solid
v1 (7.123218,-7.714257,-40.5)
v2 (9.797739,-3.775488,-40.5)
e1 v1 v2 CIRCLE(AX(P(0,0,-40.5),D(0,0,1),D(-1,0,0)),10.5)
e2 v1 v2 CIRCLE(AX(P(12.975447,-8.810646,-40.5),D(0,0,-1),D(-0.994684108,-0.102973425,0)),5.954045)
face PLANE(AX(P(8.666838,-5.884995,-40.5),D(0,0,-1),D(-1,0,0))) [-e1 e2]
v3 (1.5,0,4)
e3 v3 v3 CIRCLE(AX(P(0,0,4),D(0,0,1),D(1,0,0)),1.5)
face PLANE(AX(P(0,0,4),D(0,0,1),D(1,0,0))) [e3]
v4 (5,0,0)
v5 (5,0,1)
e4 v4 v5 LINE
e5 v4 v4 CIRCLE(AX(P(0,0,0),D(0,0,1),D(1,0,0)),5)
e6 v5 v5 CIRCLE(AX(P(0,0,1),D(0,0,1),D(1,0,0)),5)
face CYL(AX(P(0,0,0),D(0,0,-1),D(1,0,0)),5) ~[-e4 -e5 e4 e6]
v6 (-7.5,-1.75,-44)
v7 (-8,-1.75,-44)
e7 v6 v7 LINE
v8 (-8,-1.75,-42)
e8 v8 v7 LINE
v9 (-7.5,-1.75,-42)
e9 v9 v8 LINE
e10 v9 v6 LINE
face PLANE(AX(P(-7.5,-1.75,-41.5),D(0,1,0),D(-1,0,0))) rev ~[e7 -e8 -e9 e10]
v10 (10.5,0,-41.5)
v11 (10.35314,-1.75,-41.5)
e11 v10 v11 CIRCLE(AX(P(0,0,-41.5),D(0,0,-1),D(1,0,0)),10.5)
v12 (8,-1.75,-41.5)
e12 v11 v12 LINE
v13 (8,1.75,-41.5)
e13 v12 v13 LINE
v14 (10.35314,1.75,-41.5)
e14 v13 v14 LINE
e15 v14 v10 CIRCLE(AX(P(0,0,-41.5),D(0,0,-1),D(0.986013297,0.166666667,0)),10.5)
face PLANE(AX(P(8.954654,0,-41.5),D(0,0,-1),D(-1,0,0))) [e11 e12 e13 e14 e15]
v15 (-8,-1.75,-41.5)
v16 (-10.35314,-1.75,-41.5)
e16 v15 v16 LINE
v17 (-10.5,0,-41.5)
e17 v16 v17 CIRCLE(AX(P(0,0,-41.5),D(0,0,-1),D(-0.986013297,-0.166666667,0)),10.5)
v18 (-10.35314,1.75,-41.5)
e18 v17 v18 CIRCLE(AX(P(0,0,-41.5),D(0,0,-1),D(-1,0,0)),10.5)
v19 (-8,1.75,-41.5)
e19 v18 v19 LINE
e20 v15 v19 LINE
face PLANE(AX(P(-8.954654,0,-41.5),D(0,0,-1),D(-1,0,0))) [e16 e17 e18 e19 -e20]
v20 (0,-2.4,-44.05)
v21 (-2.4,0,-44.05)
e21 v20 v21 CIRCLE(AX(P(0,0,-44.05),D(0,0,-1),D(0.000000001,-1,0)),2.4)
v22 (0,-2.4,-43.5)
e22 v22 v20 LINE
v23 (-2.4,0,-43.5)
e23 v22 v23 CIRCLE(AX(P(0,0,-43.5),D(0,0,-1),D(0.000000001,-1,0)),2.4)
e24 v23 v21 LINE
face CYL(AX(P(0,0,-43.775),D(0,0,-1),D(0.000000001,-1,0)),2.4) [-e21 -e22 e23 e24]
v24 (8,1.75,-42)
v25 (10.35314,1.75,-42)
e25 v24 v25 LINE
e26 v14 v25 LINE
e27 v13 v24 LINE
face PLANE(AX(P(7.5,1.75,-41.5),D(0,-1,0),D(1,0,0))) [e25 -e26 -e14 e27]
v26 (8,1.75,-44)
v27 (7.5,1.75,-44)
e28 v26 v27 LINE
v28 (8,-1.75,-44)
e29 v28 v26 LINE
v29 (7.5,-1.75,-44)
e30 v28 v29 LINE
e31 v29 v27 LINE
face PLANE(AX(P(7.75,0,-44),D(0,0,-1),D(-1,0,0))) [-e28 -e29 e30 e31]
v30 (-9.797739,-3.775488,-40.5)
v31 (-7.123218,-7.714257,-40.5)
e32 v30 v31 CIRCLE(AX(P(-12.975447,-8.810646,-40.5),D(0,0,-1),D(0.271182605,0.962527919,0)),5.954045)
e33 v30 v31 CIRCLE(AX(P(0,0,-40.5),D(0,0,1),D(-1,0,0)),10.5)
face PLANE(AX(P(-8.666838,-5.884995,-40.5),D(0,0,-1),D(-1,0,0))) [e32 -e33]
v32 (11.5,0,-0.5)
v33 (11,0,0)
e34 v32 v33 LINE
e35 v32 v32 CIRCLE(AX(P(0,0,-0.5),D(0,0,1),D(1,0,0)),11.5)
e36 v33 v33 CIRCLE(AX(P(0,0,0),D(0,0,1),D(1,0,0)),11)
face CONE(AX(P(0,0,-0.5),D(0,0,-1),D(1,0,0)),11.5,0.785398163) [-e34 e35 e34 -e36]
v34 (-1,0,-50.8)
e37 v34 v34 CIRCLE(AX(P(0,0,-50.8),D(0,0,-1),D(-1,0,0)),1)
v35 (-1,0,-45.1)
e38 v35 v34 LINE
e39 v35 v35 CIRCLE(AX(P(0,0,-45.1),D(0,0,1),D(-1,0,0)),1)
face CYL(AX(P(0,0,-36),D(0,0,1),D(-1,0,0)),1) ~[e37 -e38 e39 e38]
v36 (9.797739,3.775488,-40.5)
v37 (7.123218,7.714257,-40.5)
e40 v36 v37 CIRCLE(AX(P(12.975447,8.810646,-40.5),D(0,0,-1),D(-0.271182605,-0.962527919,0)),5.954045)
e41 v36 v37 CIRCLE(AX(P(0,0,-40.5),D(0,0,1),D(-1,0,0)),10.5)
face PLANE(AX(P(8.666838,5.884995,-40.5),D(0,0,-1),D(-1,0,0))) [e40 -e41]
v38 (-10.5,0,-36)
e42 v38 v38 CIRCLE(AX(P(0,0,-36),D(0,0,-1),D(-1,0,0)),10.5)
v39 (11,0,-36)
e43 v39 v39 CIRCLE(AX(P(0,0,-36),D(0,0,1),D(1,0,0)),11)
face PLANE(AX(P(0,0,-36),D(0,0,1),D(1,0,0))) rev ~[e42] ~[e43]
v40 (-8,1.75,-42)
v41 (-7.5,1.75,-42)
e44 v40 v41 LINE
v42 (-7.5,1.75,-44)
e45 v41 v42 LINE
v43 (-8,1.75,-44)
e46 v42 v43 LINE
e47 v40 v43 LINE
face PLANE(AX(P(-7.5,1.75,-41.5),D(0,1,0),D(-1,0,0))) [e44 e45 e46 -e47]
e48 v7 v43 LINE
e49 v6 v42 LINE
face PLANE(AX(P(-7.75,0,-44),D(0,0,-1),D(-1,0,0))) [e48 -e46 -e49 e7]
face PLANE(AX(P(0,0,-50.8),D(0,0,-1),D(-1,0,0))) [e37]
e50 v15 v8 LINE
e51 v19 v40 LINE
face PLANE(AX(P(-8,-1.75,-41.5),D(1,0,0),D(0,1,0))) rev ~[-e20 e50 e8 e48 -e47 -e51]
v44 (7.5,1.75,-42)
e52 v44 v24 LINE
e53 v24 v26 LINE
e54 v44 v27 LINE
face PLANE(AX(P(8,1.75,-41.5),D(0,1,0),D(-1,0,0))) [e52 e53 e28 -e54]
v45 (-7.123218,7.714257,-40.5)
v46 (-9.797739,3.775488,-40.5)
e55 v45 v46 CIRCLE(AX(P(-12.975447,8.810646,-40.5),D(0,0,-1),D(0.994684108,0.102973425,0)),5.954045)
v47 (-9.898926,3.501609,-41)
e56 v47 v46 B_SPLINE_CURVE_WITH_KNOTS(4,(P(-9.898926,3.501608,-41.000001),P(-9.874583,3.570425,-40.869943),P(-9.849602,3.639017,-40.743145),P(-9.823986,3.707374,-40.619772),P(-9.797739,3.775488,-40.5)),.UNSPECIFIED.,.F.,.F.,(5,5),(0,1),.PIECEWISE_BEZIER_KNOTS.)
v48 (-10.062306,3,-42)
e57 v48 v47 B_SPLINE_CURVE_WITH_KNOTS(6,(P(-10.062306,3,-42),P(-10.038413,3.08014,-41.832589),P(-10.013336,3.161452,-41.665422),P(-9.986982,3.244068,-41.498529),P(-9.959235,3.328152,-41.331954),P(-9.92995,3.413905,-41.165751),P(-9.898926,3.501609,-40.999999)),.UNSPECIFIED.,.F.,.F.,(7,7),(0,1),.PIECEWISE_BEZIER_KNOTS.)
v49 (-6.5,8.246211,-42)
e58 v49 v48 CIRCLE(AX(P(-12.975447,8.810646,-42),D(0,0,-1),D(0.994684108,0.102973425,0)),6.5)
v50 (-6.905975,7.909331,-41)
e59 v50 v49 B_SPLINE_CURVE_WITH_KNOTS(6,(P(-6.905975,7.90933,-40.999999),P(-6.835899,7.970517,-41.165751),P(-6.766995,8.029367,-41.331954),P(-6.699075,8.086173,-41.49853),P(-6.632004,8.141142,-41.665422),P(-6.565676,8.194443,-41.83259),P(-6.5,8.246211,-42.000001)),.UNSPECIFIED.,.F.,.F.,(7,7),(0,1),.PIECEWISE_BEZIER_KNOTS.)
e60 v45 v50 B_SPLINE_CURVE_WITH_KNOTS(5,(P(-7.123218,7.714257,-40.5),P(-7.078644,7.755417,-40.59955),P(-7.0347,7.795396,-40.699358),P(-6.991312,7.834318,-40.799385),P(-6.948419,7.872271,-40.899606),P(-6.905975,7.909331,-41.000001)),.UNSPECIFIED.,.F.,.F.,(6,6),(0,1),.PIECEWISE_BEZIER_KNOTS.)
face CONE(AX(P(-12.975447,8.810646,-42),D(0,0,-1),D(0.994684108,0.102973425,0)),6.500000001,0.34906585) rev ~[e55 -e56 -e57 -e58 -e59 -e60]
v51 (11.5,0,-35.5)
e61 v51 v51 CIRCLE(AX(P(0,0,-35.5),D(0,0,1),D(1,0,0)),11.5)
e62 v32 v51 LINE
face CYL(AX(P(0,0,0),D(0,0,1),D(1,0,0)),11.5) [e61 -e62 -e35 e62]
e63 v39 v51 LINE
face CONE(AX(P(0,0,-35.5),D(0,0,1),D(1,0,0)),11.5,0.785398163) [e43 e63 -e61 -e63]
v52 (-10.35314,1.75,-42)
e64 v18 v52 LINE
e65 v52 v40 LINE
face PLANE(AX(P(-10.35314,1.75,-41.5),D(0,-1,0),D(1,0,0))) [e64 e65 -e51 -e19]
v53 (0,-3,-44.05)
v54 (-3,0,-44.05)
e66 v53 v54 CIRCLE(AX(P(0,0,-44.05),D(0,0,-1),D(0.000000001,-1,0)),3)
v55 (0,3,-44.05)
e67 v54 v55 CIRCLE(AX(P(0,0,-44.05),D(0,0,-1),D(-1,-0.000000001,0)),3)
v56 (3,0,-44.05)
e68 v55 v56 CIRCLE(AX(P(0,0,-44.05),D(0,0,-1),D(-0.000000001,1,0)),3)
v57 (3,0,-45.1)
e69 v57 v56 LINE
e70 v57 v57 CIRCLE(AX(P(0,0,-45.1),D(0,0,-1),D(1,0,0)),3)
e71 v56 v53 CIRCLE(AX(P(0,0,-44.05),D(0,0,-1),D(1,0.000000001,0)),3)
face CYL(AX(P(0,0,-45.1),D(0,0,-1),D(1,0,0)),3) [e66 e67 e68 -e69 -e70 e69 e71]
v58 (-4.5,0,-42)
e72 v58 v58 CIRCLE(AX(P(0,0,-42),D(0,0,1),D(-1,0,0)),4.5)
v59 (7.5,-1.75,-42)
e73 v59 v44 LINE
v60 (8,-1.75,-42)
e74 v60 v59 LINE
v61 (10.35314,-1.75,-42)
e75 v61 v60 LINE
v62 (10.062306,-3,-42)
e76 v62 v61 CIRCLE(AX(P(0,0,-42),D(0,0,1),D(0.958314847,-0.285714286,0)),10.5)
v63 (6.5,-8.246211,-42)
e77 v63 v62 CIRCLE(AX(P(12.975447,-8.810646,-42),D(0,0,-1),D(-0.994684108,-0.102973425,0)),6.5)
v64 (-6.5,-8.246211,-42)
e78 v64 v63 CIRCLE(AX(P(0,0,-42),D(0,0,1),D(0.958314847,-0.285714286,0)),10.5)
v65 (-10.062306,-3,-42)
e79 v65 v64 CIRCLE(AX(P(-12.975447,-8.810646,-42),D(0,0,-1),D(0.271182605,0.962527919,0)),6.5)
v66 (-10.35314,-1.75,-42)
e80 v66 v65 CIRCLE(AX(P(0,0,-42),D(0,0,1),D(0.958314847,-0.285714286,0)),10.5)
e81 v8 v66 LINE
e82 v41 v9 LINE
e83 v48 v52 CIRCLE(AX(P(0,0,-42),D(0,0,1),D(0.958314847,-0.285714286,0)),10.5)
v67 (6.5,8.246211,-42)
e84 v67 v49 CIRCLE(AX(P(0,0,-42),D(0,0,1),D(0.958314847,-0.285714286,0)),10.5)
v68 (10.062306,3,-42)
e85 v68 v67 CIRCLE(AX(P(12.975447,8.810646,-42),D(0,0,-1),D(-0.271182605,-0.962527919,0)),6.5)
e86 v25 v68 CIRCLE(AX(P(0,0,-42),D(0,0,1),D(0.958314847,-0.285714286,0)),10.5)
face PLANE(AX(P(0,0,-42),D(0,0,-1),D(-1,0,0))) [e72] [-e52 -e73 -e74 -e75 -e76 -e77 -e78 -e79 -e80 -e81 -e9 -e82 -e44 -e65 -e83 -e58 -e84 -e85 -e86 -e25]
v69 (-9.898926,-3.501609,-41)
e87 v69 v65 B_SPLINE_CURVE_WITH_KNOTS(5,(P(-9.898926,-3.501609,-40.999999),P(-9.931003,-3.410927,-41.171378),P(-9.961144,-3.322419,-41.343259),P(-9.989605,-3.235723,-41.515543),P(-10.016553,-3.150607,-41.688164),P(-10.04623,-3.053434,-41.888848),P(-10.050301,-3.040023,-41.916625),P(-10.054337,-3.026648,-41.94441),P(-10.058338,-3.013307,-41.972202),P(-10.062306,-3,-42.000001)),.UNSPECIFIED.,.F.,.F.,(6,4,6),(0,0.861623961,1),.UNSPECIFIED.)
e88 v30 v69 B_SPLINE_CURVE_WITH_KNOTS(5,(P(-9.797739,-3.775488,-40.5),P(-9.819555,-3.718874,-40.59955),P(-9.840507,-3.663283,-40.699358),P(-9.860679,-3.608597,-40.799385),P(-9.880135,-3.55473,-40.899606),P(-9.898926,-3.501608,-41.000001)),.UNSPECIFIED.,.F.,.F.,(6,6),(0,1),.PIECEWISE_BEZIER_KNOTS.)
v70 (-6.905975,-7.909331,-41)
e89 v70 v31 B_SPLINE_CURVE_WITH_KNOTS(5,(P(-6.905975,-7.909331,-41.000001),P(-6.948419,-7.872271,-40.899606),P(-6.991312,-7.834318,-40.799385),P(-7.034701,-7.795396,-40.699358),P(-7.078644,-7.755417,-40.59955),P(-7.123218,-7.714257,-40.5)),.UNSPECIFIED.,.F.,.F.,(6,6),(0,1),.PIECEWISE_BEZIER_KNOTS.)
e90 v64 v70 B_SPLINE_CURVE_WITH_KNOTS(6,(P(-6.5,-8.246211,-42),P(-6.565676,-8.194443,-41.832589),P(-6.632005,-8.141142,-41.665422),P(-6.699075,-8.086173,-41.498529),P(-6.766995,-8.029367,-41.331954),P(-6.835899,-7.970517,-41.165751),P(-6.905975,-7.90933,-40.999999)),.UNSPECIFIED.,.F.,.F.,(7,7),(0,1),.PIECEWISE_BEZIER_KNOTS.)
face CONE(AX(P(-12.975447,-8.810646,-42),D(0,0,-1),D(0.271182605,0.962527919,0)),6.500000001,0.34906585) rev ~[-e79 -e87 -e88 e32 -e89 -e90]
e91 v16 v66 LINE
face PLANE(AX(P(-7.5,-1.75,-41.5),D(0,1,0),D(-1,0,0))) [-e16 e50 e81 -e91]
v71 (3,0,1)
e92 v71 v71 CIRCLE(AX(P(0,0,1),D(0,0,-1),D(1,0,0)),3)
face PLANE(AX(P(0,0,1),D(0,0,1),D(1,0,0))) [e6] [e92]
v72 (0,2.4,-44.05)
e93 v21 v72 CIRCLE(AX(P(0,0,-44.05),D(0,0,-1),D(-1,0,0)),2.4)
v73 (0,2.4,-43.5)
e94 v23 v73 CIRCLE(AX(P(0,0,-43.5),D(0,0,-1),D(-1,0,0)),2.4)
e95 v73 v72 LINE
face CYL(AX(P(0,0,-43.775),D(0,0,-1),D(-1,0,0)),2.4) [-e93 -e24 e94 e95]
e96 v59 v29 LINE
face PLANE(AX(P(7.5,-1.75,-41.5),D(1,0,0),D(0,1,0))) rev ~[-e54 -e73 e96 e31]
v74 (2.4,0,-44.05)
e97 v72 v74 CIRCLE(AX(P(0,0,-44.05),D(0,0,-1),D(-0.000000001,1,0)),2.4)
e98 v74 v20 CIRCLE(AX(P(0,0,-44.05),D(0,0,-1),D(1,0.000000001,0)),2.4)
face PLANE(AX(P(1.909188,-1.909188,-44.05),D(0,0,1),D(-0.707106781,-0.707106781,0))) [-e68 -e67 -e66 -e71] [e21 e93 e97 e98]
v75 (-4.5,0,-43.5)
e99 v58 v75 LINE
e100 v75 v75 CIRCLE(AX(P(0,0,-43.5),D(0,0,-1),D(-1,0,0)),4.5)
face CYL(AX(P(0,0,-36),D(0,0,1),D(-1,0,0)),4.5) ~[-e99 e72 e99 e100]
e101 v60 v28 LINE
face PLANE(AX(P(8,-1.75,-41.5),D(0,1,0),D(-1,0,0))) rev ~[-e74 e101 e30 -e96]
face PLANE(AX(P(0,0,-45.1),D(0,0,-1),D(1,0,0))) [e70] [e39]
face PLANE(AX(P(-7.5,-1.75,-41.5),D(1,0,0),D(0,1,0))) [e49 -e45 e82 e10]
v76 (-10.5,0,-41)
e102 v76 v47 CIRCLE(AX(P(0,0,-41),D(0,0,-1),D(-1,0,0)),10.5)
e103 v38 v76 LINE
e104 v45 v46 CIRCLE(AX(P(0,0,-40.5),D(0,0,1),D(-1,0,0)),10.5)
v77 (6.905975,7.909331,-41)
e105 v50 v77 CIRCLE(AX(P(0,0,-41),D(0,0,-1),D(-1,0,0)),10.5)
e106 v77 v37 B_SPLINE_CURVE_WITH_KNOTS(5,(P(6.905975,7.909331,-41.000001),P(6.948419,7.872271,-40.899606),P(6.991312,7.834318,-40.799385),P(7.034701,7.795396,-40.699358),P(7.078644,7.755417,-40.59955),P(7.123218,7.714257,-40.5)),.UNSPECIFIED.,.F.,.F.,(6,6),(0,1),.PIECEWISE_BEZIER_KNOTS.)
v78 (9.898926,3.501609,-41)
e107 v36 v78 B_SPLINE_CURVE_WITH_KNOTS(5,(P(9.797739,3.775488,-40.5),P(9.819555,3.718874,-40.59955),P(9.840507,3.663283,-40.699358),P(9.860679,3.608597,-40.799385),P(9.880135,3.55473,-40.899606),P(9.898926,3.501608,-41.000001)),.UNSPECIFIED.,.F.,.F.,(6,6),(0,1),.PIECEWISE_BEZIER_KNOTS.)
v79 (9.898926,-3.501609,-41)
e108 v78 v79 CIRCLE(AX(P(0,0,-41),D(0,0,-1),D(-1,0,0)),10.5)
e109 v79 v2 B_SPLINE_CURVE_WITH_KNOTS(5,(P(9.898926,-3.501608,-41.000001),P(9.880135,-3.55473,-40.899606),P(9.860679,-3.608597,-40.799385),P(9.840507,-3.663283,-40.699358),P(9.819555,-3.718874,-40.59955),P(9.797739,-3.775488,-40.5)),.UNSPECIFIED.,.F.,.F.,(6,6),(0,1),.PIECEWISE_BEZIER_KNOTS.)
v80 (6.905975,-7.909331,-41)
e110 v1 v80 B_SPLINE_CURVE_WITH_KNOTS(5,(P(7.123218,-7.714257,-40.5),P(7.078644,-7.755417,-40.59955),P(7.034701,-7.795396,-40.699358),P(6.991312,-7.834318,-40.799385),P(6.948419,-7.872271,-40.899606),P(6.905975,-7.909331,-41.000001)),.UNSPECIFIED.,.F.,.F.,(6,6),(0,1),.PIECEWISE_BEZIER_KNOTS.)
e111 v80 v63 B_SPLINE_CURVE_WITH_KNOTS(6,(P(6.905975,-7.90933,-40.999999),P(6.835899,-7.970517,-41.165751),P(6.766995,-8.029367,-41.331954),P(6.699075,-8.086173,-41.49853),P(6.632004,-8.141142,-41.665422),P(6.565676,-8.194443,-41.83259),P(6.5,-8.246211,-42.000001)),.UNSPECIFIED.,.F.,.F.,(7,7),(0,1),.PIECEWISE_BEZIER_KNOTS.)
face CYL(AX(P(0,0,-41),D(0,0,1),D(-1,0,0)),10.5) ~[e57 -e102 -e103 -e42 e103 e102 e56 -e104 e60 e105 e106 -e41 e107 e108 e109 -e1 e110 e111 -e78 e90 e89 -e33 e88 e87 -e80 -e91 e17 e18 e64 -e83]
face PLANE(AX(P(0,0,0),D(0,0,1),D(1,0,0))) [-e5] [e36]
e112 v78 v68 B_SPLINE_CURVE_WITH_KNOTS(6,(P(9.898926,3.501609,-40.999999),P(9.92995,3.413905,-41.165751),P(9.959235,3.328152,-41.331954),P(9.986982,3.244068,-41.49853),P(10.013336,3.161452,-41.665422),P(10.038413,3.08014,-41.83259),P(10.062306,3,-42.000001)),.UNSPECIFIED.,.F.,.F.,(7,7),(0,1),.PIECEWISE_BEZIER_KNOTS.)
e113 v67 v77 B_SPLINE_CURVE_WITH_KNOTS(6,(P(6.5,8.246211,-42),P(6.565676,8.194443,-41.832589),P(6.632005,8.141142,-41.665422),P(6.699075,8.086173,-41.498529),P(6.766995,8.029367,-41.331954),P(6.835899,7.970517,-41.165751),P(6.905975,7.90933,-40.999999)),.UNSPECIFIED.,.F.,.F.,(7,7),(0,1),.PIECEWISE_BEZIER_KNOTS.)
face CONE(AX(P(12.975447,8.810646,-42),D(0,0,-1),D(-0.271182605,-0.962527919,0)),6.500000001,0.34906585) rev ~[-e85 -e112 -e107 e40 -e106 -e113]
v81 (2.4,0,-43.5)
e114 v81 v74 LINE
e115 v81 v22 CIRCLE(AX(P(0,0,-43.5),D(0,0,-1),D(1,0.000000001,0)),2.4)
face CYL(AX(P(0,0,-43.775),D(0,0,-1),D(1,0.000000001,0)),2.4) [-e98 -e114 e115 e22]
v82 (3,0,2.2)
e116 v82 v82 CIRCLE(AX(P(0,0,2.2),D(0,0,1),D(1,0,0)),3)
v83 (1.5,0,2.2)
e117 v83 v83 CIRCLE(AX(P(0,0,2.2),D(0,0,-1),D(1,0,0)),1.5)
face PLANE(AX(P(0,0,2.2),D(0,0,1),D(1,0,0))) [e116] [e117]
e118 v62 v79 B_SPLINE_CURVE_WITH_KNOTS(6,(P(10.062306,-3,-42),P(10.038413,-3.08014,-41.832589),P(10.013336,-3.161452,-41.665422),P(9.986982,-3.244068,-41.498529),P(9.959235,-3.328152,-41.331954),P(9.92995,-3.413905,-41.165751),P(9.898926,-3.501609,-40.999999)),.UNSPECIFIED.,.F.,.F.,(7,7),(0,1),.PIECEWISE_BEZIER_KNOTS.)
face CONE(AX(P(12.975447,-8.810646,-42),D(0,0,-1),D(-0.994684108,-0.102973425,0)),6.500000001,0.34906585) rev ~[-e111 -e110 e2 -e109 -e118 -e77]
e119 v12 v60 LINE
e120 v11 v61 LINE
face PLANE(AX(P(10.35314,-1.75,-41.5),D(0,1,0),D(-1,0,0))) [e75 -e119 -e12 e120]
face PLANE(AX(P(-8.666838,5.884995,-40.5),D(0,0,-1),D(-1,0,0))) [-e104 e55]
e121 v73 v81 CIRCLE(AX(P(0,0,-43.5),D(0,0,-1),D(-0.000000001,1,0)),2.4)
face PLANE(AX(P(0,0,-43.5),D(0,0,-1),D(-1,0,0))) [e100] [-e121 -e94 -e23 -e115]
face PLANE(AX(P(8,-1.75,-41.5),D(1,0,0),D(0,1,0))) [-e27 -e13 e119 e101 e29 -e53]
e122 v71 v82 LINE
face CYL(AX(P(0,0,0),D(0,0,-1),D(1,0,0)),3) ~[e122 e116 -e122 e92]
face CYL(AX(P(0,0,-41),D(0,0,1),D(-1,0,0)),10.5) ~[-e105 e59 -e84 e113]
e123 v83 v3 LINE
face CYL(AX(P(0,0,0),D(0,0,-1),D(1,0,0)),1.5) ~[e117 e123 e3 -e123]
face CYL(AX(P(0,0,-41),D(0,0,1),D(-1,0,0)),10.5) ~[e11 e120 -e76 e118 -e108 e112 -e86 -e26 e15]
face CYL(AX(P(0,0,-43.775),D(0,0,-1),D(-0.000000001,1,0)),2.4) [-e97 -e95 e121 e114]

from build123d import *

# Parameters (mm, degrees)
CROQUIS1_R                      = 11.5
SALIENTE_EXTRUIR1_DEPTH         = 36
CROQUIS1_4_R                    = 5
SALIENTE_EXTRUIR2_DEPTH         = 1
CROQUIS1_5_R                    = 3
SALIENTE_EXTRUIR3_DEPTH         = 2.2
CROQUIS1_6_R                    = 1.5
SALIENTE_EXTRUIR4_DEPTH         = 4
CROQUIS3_R                      = 10.5
SALIENTE_EXTRUIR5_DEPTH         = 5
CROQUIS7_R                      = 10.5
SALIENTE_EXTRUIR10_DEPTH        = 1
CROQUIS3_6_R                    = 1
SALIENTE_EXTRUIR7_DEPTH         = 14.8
SALIENTE_EXTRUIR8_START         = 9.1
CROQUIS3_8_R                    = 3
SALIENTE_EXTRUIR8_DEPTH         = 9.1
CROQUIS3_9_R                    = 4.5
SALIENTE_EXTRUIR9_DEPTH         = 7.5
CROQUIS5_W                      = 0.55
CROQUIS5_H                      = 0.6
CORTAR_EXTRUIR1_DEPTH           = 1.5
CORTAR_EXTRUIR1_DRAFT           = -20
CORTAR_EXTRUIR1_PROFILE_2_DEPTH = 1.5
CORTAR_EXTRUIR1_PROFILE_2_DRAFT = -20
CORTAR_EXTRUIR1_PROFILE_3_DEPTH = 1.5
CORTAR_EXTRUIR1_PROFILE_3_DRAFT = -20
CORTAR_EXTRUIR1_PROFILE_4_DEPTH = 1.5
CORTAR_EXTRUIR1_PROFILE_4_DRAFT = -20
CHAFL_N1_SIZE                   = 0.5
CORTAR_EXTRUIR2_START           = -0.5
CORTAR_EXTRUIR2_DEPTH           = 0.5
CROQUIS10_W                     = 0.5
CROQUIS10_H                     = 3.5
SALIENTE_EXTRUIR11_DEPTH        = 2.5


with BuildPart() as part:
    # Croquis1 → Saliente-Extruir1 (new body)
    with BuildSketch(Plane.XY):
        Circle(CROQUIS1_R)
    extrude(amount=-SALIENTE_EXTRUIR1_DEPTH)

    # Croquis1<4> → Saliente-Extruir2 (add)
    with BuildSketch(Plane.XY):
        Circle(CROQUIS1_4_R)
    extrude(amount=SALIENTE_EXTRUIR2_DEPTH)

    # Croquis1<5> → Saliente-Extruir3 (add)
    with BuildSketch(Plane.XY):
        Circle(CROQUIS1_5_R)
    extrude(amount=SALIENTE_EXTRUIR3_DEPTH)

    # Croquis1<6> → Saliente-Extruir4 (add)
    with BuildSketch(Plane.XY):
        Circle(CROQUIS1_6_R)
    extrude(amount=SALIENTE_EXTRUIR4_DEPTH)

    # Croquis3 → Saliente-Extruir5 (add)
    with BuildSketch(Plane(origin=(0, 0, -36), x_dir=(-1, 0, 0), z_dir=(0, 0, -1))):
        Circle(CROQUIS3_R)
    extrude(amount=SALIENTE_EXTRUIR5_DEPTH)

    # Croquis3<6> → Saliente-Extruir7 (add)
    with BuildSketch(Plane(origin=(0, 0, -36), x_dir=(-1, 0, 0), z_dir=(0, 0, -1))):
        Circle(CROQUIS3_6_R)
    extrude(amount=SALIENTE_EXTRUIR7_DEPTH)

    # Croquis3<8> → Saliente-Extruir8 (add)
    with BuildSketch(Plane(origin=(0, 0, -36), x_dir=(-1, 0, 0), z_dir=(0, 0, -1)).offset(SALIENTE_EXTRUIR8_START)):
        with Locations(Location((0, 0, 0), (0, 0, 180))):
            Circle(CROQUIS3_8_R)
    extrude(amount=-SALIENTE_EXTRUIR8_DEPTH)

    # Croquis3<9> → Saliente-Extruir9 (add)
    with BuildSketch(Plane(origin=(0, 0, -36), x_dir=(-1, 0, 0), z_dir=(0, 0, -1))):
        Circle(CROQUIS3_9_R)
    extrude(amount=SALIENTE_EXTRUIR9_DEPTH)

    # Cortar-Barrer1: sweep along a curve in space
    with BuildLine() as cortar_barrer1_path:
        ThreePointArc((-3, 0, -45.1), (-2.121320344, 2.121320344, -45.1), (0, 3, -45.1))
        ThreePointArc((0, 3, -45.1), (2.121320344, 2.121320344, -45.1), (3, 0, -45.1))
        ThreePointArc((3, 0, -45.1), (2.121320344, -2.121320344, -45.1), (0, -3, -45.1))
        ThreePointArc((0, -3, -45.1), (-2.121320344, -2.121320344, -45.1), (-3, 0, -45.1))
    # Croquis5 → Cortar-Barrer1 (sweep, cut)
    with BuildSketch(Plane(origin=(0, 0, 0), x_dir=(0, 0, -1), z_dir=(1, 0, 0))):
        with Locations((43.775, 2.7)):
            Rectangle(CROQUIS5_W, CROQUIS5_H)
    sweep(path=cortar_barrer1_path.line, mode=Mode.SUBTRACT)


with BuildPart() as body_2:
    # Croquis7 → Saliente-Extruir10 (new body)
    with BuildSketch(Plane(origin=(0, 0, -41), x_dir=(-1, 0, 0), z_dir=(0, 0, -1))):
        Circle(CROQUIS7_R)
    extrude(amount=SALIENTE_EXTRUIR10_DEPTH)


with BuildPart() as cortar_extruir1_tool:
    # Croquis8 → Cortar-Extruir1 (with draft: the straight prism first)
    with BuildSketch(Plane(origin=(0, 0, -42), x_dir=(-1, 0, 0), z_dir=(0, 0, -1))):
        with BuildLine():
            ThreePointArc((-6.51000025, -9.479973457), (-7.597986649, -5.15921898), (-11.212760015, -2.554214724))
            ThreePointArc((-11.212760015, -2.554214724), (-9.513968223, -6.460217384), (-6.51000025, -9.479973457))
        make_face()
    extrude(amount=-CORTAR_EXTRUIR1_DEPTH)
    # Cortar-Extruir1: the draft: its side faces are tilted about the plane it starts from
    cortar_extruir1_sides = [cortar_extruir1_tool.faces().sort_by_distance(p)[0] for p in [
        (7.597986649, -5.15921898, -41.25),
        (9.513968223, -6.460217384, -41.25),
    ]]
    draft(cortar_extruir1_sides, Plane(origin=(0, 0, -42), x_dir=(-1, 0, 0), z_dir=(0, 0, -1)), CORTAR_EXTRUIR1_DRAFT)


with BuildPart() as part_1:
    add(part.part)

    # Cortar-Extruir1: cut by cortar_extruir1_tool
    add(cortar_extruir1_tool.part, mode=Mode.SUBTRACT)


with BuildPart() as body_2_1:
    add(body_2.part)

    # Cortar-Extruir1: cut by cortar_extruir1_tool
    add(cortar_extruir1_tool.part, mode=Mode.SUBTRACT)


with BuildPart() as cortar_extruir1_profile_2_tool:
    # Croquis8 → Cortar-Extruir1 profile 2 (with draft: the straight prism first)
    with BuildSketch(Plane(origin=(0, 0, -42), x_dir=(-1, 0, 0), z_dir=(0, 0, -1))):
        with BuildLine():
            ThreePointArc((-6.51000025, 9.479973457), (-9.513968223, 6.460217384), (-11.212760015, 2.554214724))
            ThreePointArc((-11.212760015, 2.554214724), (-7.597986649, 5.15921898), (-6.51000025, 9.479973457))
        make_face()
    extrude(amount=-CORTAR_EXTRUIR1_PROFILE_2_DEPTH)
    # Cortar-Extruir1 profile 2: the draft: its side faces are tilted about the plane it starts from
    cortar_extruir1_profile_2_sides = [cortar_extruir1_profile_2_tool.faces().sort_by_distance(p)[0] for p in [
        (9.513968223, 6.460217384, -41.25),
        (7.597986649, 5.15921898, -41.25),
    ]]
    draft(cortar_extruir1_profile_2_sides, Plane(origin=(0, 0, -42), x_dir=(-1, 0, 0), z_dir=(0, 0, -1)), CORTAR_EXTRUIR1_PROFILE_2_DRAFT)


with BuildPart() as part_2:
    add(part_1.part)

    # Cortar-Extruir1 profile 2: cut by cortar_extruir1_profile_2_tool
    add(cortar_extruir1_profile_2_tool.part, mode=Mode.SUBTRACT)


with BuildPart() as body_2_2:
    add(body_2_1.part)

    # Cortar-Extruir1 profile 2: cut by cortar_extruir1_profile_2_tool
    add(cortar_extruir1_profile_2_tool.part, mode=Mode.SUBTRACT)


with BuildPart() as cortar_extruir1_profile_3_tool:
    # Croquis8 → Cortar-Extruir1 profile 3 (with draft: the straight prism first)
    with BuildSketch(Plane(origin=(0, 0, -42), x_dir=(-1, 0, 0), z_dir=(0, 0, -1))):
        with BuildLine():
            ThreePointArc((6.51000025, 9.479973457), (7.597986649, 5.15921898), (11.212760015, 2.554214724))
            ThreePointArc((11.212760015, 2.554214724), (9.513968223, 6.460217384), (6.51000025, 9.479973457))
        make_face()
    extrude(amount=-CORTAR_EXTRUIR1_PROFILE_3_DEPTH)
    # Cortar-Extruir1 profile 3: the draft: its side faces are tilted about the plane it starts from
    cortar_extruir1_profile_3_sides = [cortar_extruir1_profile_3_tool.faces().sort_by_distance(p)[0] for p in [
        (-9.513968223, 6.460217384, -41.25),
        (-7.597986649, 5.15921898, -41.25),
    ]]
    draft(cortar_extruir1_profile_3_sides, Plane(origin=(0, 0, -42), x_dir=(-1, 0, 0), z_dir=(0, 0, -1)), CORTAR_EXTRUIR1_PROFILE_3_DRAFT)


with BuildPart() as part_3:
    add(part_2.part)

    # Cortar-Extruir1 profile 3: cut by cortar_extruir1_profile_3_tool
    add(cortar_extruir1_profile_3_tool.part, mode=Mode.SUBTRACT)


with BuildPart() as body_2_3:
    add(body_2_2.part)

    # Cortar-Extruir1 profile 3: cut by cortar_extruir1_profile_3_tool
    add(cortar_extruir1_profile_3_tool.part, mode=Mode.SUBTRACT)


with BuildPart() as cortar_extruir1_profile_4_tool:
    # Croquis8 → Cortar-Extruir1 profile 4 (with draft: the straight prism first)
    with BuildSketch(Plane(origin=(0, 0, -42), x_dir=(-1, 0, 0), z_dir=(0, 0, -1))):
        with BuildLine():
            ThreePointArc((6.51000025, -9.479973457), (9.513968223, -6.460217384), (11.212760015, -2.554214724))
            ThreePointArc((11.212760015, -2.554214724), (7.597986649, -5.15921898), (6.51000025, -9.479973457))
        make_face()
    extrude(amount=-CORTAR_EXTRUIR1_PROFILE_4_DEPTH)
    # Cortar-Extruir1 profile 4: the draft: its side faces are tilted about the plane it starts from
    cortar_extruir1_profile_4_sides = [cortar_extruir1_profile_4_tool.faces().sort_by_distance(p)[0] for p in [
        (-7.597986649, -5.15921898, -41.25),
        (-9.513968223, -6.460217384, -41.25),
    ]]
    draft(cortar_extruir1_profile_4_sides, Plane(origin=(0, 0, -42), x_dir=(-1, 0, 0), z_dir=(0, 0, -1)), CORTAR_EXTRUIR1_PROFILE_4_DRAFT)


with BuildPart() as part_4:
    add(part_3.part)

    # Cortar-Extruir1 profile 4: cut by cortar_extruir1_profile_4_tool
    add(cortar_extruir1_profile_4_tool.part, mode=Mode.SUBTRACT)

    # Chaflán1
    chafl_n1_edges = [part_4.edges().sort_by_distance(p)[0] for p in [
        (-11.5, 0, 0),
        (-11.5, 0, -36),
    ]]
    chamfer(chafl_n1_edges, length=CHAFL_N1_SIZE)



with BuildPart() as body_2_4:
    add(body_2_3.part)

    # Cortar-Extruir1 profile 4: cut by cortar_extruir1_profile_4_tool
    add(cortar_extruir1_profile_4_tool.part, mode=Mode.SUBTRACT)

    # Croquis9 → Cortar-Extruir2 (cut)
    with BuildSketch(Plane(origin=(0, 0, -42), x_dir=(-1, 0, 0), z_dir=(0, 0, -1)).offset(CORTAR_EXTRUIR2_START)):
        with BuildLine():
            Line((-10.35313962, -1.75), (-8, -1.75))
            Line((-8, -1.75), (-7.5, -1.75))
            Line((-7.5, -1.75), (-7.5, 1.75))
            Line((-7.5, 1.75), (-8, 1.75))
            Line((-8, 1.75), (-10.35313962, 1.75))
            ThreePointArc((-10.35313962, 1.75), (-10.463220489, 0.878075733), (-10.5, 0))
            ThreePointArc((-10.5, 0), (-10.463220489, -0.878075733), (-10.35313962, -1.75))
        make_face()
        with BuildLine():
            Line((7.5, -1.75), (8, -1.75))
            Line((8, -1.75), (10.35313962, -1.75))
            ThreePointArc((10.35313962, -1.75), (10.463220489, -0.878075733), (10.5, 0))
            ThreePointArc((10.5, 0), (10.463220489, 0.878075733), (10.35313962, 1.75))
            Line((10.35313962, 1.75), (8, 1.75))
            Line((8, 1.75), (7.5, 1.75))
            Line((7.5, 1.75), (7.5, -1.75))
        make_face()
    extrude(amount=CORTAR_EXTRUIR2_DEPTH, mode=Mode.SUBTRACT)


with BuildPart() as part_5:
    add(part_4.part)

    add(body_2_4.part)  # Saliente-Extruir11 merges body 2
    # Croquis10 → Saliente-Extruir11 (add)
    with BuildSketch(Plane(origin=(0, 0, -41.5), x_dir=(-1, 0, 0), z_dir=(0, 0, -1))):
        with Locations((7.75, 0)):
            Rectangle(CROQUIS10_W, CROQUIS10_H)
        with Locations((-7.75, 0)):
            Rectangle(CROQUIS10_W, CROQUIS10_H)
    extrude(amount=SALIENTE_EXTRUIR11_DEPTH)


solid = part_5.part
